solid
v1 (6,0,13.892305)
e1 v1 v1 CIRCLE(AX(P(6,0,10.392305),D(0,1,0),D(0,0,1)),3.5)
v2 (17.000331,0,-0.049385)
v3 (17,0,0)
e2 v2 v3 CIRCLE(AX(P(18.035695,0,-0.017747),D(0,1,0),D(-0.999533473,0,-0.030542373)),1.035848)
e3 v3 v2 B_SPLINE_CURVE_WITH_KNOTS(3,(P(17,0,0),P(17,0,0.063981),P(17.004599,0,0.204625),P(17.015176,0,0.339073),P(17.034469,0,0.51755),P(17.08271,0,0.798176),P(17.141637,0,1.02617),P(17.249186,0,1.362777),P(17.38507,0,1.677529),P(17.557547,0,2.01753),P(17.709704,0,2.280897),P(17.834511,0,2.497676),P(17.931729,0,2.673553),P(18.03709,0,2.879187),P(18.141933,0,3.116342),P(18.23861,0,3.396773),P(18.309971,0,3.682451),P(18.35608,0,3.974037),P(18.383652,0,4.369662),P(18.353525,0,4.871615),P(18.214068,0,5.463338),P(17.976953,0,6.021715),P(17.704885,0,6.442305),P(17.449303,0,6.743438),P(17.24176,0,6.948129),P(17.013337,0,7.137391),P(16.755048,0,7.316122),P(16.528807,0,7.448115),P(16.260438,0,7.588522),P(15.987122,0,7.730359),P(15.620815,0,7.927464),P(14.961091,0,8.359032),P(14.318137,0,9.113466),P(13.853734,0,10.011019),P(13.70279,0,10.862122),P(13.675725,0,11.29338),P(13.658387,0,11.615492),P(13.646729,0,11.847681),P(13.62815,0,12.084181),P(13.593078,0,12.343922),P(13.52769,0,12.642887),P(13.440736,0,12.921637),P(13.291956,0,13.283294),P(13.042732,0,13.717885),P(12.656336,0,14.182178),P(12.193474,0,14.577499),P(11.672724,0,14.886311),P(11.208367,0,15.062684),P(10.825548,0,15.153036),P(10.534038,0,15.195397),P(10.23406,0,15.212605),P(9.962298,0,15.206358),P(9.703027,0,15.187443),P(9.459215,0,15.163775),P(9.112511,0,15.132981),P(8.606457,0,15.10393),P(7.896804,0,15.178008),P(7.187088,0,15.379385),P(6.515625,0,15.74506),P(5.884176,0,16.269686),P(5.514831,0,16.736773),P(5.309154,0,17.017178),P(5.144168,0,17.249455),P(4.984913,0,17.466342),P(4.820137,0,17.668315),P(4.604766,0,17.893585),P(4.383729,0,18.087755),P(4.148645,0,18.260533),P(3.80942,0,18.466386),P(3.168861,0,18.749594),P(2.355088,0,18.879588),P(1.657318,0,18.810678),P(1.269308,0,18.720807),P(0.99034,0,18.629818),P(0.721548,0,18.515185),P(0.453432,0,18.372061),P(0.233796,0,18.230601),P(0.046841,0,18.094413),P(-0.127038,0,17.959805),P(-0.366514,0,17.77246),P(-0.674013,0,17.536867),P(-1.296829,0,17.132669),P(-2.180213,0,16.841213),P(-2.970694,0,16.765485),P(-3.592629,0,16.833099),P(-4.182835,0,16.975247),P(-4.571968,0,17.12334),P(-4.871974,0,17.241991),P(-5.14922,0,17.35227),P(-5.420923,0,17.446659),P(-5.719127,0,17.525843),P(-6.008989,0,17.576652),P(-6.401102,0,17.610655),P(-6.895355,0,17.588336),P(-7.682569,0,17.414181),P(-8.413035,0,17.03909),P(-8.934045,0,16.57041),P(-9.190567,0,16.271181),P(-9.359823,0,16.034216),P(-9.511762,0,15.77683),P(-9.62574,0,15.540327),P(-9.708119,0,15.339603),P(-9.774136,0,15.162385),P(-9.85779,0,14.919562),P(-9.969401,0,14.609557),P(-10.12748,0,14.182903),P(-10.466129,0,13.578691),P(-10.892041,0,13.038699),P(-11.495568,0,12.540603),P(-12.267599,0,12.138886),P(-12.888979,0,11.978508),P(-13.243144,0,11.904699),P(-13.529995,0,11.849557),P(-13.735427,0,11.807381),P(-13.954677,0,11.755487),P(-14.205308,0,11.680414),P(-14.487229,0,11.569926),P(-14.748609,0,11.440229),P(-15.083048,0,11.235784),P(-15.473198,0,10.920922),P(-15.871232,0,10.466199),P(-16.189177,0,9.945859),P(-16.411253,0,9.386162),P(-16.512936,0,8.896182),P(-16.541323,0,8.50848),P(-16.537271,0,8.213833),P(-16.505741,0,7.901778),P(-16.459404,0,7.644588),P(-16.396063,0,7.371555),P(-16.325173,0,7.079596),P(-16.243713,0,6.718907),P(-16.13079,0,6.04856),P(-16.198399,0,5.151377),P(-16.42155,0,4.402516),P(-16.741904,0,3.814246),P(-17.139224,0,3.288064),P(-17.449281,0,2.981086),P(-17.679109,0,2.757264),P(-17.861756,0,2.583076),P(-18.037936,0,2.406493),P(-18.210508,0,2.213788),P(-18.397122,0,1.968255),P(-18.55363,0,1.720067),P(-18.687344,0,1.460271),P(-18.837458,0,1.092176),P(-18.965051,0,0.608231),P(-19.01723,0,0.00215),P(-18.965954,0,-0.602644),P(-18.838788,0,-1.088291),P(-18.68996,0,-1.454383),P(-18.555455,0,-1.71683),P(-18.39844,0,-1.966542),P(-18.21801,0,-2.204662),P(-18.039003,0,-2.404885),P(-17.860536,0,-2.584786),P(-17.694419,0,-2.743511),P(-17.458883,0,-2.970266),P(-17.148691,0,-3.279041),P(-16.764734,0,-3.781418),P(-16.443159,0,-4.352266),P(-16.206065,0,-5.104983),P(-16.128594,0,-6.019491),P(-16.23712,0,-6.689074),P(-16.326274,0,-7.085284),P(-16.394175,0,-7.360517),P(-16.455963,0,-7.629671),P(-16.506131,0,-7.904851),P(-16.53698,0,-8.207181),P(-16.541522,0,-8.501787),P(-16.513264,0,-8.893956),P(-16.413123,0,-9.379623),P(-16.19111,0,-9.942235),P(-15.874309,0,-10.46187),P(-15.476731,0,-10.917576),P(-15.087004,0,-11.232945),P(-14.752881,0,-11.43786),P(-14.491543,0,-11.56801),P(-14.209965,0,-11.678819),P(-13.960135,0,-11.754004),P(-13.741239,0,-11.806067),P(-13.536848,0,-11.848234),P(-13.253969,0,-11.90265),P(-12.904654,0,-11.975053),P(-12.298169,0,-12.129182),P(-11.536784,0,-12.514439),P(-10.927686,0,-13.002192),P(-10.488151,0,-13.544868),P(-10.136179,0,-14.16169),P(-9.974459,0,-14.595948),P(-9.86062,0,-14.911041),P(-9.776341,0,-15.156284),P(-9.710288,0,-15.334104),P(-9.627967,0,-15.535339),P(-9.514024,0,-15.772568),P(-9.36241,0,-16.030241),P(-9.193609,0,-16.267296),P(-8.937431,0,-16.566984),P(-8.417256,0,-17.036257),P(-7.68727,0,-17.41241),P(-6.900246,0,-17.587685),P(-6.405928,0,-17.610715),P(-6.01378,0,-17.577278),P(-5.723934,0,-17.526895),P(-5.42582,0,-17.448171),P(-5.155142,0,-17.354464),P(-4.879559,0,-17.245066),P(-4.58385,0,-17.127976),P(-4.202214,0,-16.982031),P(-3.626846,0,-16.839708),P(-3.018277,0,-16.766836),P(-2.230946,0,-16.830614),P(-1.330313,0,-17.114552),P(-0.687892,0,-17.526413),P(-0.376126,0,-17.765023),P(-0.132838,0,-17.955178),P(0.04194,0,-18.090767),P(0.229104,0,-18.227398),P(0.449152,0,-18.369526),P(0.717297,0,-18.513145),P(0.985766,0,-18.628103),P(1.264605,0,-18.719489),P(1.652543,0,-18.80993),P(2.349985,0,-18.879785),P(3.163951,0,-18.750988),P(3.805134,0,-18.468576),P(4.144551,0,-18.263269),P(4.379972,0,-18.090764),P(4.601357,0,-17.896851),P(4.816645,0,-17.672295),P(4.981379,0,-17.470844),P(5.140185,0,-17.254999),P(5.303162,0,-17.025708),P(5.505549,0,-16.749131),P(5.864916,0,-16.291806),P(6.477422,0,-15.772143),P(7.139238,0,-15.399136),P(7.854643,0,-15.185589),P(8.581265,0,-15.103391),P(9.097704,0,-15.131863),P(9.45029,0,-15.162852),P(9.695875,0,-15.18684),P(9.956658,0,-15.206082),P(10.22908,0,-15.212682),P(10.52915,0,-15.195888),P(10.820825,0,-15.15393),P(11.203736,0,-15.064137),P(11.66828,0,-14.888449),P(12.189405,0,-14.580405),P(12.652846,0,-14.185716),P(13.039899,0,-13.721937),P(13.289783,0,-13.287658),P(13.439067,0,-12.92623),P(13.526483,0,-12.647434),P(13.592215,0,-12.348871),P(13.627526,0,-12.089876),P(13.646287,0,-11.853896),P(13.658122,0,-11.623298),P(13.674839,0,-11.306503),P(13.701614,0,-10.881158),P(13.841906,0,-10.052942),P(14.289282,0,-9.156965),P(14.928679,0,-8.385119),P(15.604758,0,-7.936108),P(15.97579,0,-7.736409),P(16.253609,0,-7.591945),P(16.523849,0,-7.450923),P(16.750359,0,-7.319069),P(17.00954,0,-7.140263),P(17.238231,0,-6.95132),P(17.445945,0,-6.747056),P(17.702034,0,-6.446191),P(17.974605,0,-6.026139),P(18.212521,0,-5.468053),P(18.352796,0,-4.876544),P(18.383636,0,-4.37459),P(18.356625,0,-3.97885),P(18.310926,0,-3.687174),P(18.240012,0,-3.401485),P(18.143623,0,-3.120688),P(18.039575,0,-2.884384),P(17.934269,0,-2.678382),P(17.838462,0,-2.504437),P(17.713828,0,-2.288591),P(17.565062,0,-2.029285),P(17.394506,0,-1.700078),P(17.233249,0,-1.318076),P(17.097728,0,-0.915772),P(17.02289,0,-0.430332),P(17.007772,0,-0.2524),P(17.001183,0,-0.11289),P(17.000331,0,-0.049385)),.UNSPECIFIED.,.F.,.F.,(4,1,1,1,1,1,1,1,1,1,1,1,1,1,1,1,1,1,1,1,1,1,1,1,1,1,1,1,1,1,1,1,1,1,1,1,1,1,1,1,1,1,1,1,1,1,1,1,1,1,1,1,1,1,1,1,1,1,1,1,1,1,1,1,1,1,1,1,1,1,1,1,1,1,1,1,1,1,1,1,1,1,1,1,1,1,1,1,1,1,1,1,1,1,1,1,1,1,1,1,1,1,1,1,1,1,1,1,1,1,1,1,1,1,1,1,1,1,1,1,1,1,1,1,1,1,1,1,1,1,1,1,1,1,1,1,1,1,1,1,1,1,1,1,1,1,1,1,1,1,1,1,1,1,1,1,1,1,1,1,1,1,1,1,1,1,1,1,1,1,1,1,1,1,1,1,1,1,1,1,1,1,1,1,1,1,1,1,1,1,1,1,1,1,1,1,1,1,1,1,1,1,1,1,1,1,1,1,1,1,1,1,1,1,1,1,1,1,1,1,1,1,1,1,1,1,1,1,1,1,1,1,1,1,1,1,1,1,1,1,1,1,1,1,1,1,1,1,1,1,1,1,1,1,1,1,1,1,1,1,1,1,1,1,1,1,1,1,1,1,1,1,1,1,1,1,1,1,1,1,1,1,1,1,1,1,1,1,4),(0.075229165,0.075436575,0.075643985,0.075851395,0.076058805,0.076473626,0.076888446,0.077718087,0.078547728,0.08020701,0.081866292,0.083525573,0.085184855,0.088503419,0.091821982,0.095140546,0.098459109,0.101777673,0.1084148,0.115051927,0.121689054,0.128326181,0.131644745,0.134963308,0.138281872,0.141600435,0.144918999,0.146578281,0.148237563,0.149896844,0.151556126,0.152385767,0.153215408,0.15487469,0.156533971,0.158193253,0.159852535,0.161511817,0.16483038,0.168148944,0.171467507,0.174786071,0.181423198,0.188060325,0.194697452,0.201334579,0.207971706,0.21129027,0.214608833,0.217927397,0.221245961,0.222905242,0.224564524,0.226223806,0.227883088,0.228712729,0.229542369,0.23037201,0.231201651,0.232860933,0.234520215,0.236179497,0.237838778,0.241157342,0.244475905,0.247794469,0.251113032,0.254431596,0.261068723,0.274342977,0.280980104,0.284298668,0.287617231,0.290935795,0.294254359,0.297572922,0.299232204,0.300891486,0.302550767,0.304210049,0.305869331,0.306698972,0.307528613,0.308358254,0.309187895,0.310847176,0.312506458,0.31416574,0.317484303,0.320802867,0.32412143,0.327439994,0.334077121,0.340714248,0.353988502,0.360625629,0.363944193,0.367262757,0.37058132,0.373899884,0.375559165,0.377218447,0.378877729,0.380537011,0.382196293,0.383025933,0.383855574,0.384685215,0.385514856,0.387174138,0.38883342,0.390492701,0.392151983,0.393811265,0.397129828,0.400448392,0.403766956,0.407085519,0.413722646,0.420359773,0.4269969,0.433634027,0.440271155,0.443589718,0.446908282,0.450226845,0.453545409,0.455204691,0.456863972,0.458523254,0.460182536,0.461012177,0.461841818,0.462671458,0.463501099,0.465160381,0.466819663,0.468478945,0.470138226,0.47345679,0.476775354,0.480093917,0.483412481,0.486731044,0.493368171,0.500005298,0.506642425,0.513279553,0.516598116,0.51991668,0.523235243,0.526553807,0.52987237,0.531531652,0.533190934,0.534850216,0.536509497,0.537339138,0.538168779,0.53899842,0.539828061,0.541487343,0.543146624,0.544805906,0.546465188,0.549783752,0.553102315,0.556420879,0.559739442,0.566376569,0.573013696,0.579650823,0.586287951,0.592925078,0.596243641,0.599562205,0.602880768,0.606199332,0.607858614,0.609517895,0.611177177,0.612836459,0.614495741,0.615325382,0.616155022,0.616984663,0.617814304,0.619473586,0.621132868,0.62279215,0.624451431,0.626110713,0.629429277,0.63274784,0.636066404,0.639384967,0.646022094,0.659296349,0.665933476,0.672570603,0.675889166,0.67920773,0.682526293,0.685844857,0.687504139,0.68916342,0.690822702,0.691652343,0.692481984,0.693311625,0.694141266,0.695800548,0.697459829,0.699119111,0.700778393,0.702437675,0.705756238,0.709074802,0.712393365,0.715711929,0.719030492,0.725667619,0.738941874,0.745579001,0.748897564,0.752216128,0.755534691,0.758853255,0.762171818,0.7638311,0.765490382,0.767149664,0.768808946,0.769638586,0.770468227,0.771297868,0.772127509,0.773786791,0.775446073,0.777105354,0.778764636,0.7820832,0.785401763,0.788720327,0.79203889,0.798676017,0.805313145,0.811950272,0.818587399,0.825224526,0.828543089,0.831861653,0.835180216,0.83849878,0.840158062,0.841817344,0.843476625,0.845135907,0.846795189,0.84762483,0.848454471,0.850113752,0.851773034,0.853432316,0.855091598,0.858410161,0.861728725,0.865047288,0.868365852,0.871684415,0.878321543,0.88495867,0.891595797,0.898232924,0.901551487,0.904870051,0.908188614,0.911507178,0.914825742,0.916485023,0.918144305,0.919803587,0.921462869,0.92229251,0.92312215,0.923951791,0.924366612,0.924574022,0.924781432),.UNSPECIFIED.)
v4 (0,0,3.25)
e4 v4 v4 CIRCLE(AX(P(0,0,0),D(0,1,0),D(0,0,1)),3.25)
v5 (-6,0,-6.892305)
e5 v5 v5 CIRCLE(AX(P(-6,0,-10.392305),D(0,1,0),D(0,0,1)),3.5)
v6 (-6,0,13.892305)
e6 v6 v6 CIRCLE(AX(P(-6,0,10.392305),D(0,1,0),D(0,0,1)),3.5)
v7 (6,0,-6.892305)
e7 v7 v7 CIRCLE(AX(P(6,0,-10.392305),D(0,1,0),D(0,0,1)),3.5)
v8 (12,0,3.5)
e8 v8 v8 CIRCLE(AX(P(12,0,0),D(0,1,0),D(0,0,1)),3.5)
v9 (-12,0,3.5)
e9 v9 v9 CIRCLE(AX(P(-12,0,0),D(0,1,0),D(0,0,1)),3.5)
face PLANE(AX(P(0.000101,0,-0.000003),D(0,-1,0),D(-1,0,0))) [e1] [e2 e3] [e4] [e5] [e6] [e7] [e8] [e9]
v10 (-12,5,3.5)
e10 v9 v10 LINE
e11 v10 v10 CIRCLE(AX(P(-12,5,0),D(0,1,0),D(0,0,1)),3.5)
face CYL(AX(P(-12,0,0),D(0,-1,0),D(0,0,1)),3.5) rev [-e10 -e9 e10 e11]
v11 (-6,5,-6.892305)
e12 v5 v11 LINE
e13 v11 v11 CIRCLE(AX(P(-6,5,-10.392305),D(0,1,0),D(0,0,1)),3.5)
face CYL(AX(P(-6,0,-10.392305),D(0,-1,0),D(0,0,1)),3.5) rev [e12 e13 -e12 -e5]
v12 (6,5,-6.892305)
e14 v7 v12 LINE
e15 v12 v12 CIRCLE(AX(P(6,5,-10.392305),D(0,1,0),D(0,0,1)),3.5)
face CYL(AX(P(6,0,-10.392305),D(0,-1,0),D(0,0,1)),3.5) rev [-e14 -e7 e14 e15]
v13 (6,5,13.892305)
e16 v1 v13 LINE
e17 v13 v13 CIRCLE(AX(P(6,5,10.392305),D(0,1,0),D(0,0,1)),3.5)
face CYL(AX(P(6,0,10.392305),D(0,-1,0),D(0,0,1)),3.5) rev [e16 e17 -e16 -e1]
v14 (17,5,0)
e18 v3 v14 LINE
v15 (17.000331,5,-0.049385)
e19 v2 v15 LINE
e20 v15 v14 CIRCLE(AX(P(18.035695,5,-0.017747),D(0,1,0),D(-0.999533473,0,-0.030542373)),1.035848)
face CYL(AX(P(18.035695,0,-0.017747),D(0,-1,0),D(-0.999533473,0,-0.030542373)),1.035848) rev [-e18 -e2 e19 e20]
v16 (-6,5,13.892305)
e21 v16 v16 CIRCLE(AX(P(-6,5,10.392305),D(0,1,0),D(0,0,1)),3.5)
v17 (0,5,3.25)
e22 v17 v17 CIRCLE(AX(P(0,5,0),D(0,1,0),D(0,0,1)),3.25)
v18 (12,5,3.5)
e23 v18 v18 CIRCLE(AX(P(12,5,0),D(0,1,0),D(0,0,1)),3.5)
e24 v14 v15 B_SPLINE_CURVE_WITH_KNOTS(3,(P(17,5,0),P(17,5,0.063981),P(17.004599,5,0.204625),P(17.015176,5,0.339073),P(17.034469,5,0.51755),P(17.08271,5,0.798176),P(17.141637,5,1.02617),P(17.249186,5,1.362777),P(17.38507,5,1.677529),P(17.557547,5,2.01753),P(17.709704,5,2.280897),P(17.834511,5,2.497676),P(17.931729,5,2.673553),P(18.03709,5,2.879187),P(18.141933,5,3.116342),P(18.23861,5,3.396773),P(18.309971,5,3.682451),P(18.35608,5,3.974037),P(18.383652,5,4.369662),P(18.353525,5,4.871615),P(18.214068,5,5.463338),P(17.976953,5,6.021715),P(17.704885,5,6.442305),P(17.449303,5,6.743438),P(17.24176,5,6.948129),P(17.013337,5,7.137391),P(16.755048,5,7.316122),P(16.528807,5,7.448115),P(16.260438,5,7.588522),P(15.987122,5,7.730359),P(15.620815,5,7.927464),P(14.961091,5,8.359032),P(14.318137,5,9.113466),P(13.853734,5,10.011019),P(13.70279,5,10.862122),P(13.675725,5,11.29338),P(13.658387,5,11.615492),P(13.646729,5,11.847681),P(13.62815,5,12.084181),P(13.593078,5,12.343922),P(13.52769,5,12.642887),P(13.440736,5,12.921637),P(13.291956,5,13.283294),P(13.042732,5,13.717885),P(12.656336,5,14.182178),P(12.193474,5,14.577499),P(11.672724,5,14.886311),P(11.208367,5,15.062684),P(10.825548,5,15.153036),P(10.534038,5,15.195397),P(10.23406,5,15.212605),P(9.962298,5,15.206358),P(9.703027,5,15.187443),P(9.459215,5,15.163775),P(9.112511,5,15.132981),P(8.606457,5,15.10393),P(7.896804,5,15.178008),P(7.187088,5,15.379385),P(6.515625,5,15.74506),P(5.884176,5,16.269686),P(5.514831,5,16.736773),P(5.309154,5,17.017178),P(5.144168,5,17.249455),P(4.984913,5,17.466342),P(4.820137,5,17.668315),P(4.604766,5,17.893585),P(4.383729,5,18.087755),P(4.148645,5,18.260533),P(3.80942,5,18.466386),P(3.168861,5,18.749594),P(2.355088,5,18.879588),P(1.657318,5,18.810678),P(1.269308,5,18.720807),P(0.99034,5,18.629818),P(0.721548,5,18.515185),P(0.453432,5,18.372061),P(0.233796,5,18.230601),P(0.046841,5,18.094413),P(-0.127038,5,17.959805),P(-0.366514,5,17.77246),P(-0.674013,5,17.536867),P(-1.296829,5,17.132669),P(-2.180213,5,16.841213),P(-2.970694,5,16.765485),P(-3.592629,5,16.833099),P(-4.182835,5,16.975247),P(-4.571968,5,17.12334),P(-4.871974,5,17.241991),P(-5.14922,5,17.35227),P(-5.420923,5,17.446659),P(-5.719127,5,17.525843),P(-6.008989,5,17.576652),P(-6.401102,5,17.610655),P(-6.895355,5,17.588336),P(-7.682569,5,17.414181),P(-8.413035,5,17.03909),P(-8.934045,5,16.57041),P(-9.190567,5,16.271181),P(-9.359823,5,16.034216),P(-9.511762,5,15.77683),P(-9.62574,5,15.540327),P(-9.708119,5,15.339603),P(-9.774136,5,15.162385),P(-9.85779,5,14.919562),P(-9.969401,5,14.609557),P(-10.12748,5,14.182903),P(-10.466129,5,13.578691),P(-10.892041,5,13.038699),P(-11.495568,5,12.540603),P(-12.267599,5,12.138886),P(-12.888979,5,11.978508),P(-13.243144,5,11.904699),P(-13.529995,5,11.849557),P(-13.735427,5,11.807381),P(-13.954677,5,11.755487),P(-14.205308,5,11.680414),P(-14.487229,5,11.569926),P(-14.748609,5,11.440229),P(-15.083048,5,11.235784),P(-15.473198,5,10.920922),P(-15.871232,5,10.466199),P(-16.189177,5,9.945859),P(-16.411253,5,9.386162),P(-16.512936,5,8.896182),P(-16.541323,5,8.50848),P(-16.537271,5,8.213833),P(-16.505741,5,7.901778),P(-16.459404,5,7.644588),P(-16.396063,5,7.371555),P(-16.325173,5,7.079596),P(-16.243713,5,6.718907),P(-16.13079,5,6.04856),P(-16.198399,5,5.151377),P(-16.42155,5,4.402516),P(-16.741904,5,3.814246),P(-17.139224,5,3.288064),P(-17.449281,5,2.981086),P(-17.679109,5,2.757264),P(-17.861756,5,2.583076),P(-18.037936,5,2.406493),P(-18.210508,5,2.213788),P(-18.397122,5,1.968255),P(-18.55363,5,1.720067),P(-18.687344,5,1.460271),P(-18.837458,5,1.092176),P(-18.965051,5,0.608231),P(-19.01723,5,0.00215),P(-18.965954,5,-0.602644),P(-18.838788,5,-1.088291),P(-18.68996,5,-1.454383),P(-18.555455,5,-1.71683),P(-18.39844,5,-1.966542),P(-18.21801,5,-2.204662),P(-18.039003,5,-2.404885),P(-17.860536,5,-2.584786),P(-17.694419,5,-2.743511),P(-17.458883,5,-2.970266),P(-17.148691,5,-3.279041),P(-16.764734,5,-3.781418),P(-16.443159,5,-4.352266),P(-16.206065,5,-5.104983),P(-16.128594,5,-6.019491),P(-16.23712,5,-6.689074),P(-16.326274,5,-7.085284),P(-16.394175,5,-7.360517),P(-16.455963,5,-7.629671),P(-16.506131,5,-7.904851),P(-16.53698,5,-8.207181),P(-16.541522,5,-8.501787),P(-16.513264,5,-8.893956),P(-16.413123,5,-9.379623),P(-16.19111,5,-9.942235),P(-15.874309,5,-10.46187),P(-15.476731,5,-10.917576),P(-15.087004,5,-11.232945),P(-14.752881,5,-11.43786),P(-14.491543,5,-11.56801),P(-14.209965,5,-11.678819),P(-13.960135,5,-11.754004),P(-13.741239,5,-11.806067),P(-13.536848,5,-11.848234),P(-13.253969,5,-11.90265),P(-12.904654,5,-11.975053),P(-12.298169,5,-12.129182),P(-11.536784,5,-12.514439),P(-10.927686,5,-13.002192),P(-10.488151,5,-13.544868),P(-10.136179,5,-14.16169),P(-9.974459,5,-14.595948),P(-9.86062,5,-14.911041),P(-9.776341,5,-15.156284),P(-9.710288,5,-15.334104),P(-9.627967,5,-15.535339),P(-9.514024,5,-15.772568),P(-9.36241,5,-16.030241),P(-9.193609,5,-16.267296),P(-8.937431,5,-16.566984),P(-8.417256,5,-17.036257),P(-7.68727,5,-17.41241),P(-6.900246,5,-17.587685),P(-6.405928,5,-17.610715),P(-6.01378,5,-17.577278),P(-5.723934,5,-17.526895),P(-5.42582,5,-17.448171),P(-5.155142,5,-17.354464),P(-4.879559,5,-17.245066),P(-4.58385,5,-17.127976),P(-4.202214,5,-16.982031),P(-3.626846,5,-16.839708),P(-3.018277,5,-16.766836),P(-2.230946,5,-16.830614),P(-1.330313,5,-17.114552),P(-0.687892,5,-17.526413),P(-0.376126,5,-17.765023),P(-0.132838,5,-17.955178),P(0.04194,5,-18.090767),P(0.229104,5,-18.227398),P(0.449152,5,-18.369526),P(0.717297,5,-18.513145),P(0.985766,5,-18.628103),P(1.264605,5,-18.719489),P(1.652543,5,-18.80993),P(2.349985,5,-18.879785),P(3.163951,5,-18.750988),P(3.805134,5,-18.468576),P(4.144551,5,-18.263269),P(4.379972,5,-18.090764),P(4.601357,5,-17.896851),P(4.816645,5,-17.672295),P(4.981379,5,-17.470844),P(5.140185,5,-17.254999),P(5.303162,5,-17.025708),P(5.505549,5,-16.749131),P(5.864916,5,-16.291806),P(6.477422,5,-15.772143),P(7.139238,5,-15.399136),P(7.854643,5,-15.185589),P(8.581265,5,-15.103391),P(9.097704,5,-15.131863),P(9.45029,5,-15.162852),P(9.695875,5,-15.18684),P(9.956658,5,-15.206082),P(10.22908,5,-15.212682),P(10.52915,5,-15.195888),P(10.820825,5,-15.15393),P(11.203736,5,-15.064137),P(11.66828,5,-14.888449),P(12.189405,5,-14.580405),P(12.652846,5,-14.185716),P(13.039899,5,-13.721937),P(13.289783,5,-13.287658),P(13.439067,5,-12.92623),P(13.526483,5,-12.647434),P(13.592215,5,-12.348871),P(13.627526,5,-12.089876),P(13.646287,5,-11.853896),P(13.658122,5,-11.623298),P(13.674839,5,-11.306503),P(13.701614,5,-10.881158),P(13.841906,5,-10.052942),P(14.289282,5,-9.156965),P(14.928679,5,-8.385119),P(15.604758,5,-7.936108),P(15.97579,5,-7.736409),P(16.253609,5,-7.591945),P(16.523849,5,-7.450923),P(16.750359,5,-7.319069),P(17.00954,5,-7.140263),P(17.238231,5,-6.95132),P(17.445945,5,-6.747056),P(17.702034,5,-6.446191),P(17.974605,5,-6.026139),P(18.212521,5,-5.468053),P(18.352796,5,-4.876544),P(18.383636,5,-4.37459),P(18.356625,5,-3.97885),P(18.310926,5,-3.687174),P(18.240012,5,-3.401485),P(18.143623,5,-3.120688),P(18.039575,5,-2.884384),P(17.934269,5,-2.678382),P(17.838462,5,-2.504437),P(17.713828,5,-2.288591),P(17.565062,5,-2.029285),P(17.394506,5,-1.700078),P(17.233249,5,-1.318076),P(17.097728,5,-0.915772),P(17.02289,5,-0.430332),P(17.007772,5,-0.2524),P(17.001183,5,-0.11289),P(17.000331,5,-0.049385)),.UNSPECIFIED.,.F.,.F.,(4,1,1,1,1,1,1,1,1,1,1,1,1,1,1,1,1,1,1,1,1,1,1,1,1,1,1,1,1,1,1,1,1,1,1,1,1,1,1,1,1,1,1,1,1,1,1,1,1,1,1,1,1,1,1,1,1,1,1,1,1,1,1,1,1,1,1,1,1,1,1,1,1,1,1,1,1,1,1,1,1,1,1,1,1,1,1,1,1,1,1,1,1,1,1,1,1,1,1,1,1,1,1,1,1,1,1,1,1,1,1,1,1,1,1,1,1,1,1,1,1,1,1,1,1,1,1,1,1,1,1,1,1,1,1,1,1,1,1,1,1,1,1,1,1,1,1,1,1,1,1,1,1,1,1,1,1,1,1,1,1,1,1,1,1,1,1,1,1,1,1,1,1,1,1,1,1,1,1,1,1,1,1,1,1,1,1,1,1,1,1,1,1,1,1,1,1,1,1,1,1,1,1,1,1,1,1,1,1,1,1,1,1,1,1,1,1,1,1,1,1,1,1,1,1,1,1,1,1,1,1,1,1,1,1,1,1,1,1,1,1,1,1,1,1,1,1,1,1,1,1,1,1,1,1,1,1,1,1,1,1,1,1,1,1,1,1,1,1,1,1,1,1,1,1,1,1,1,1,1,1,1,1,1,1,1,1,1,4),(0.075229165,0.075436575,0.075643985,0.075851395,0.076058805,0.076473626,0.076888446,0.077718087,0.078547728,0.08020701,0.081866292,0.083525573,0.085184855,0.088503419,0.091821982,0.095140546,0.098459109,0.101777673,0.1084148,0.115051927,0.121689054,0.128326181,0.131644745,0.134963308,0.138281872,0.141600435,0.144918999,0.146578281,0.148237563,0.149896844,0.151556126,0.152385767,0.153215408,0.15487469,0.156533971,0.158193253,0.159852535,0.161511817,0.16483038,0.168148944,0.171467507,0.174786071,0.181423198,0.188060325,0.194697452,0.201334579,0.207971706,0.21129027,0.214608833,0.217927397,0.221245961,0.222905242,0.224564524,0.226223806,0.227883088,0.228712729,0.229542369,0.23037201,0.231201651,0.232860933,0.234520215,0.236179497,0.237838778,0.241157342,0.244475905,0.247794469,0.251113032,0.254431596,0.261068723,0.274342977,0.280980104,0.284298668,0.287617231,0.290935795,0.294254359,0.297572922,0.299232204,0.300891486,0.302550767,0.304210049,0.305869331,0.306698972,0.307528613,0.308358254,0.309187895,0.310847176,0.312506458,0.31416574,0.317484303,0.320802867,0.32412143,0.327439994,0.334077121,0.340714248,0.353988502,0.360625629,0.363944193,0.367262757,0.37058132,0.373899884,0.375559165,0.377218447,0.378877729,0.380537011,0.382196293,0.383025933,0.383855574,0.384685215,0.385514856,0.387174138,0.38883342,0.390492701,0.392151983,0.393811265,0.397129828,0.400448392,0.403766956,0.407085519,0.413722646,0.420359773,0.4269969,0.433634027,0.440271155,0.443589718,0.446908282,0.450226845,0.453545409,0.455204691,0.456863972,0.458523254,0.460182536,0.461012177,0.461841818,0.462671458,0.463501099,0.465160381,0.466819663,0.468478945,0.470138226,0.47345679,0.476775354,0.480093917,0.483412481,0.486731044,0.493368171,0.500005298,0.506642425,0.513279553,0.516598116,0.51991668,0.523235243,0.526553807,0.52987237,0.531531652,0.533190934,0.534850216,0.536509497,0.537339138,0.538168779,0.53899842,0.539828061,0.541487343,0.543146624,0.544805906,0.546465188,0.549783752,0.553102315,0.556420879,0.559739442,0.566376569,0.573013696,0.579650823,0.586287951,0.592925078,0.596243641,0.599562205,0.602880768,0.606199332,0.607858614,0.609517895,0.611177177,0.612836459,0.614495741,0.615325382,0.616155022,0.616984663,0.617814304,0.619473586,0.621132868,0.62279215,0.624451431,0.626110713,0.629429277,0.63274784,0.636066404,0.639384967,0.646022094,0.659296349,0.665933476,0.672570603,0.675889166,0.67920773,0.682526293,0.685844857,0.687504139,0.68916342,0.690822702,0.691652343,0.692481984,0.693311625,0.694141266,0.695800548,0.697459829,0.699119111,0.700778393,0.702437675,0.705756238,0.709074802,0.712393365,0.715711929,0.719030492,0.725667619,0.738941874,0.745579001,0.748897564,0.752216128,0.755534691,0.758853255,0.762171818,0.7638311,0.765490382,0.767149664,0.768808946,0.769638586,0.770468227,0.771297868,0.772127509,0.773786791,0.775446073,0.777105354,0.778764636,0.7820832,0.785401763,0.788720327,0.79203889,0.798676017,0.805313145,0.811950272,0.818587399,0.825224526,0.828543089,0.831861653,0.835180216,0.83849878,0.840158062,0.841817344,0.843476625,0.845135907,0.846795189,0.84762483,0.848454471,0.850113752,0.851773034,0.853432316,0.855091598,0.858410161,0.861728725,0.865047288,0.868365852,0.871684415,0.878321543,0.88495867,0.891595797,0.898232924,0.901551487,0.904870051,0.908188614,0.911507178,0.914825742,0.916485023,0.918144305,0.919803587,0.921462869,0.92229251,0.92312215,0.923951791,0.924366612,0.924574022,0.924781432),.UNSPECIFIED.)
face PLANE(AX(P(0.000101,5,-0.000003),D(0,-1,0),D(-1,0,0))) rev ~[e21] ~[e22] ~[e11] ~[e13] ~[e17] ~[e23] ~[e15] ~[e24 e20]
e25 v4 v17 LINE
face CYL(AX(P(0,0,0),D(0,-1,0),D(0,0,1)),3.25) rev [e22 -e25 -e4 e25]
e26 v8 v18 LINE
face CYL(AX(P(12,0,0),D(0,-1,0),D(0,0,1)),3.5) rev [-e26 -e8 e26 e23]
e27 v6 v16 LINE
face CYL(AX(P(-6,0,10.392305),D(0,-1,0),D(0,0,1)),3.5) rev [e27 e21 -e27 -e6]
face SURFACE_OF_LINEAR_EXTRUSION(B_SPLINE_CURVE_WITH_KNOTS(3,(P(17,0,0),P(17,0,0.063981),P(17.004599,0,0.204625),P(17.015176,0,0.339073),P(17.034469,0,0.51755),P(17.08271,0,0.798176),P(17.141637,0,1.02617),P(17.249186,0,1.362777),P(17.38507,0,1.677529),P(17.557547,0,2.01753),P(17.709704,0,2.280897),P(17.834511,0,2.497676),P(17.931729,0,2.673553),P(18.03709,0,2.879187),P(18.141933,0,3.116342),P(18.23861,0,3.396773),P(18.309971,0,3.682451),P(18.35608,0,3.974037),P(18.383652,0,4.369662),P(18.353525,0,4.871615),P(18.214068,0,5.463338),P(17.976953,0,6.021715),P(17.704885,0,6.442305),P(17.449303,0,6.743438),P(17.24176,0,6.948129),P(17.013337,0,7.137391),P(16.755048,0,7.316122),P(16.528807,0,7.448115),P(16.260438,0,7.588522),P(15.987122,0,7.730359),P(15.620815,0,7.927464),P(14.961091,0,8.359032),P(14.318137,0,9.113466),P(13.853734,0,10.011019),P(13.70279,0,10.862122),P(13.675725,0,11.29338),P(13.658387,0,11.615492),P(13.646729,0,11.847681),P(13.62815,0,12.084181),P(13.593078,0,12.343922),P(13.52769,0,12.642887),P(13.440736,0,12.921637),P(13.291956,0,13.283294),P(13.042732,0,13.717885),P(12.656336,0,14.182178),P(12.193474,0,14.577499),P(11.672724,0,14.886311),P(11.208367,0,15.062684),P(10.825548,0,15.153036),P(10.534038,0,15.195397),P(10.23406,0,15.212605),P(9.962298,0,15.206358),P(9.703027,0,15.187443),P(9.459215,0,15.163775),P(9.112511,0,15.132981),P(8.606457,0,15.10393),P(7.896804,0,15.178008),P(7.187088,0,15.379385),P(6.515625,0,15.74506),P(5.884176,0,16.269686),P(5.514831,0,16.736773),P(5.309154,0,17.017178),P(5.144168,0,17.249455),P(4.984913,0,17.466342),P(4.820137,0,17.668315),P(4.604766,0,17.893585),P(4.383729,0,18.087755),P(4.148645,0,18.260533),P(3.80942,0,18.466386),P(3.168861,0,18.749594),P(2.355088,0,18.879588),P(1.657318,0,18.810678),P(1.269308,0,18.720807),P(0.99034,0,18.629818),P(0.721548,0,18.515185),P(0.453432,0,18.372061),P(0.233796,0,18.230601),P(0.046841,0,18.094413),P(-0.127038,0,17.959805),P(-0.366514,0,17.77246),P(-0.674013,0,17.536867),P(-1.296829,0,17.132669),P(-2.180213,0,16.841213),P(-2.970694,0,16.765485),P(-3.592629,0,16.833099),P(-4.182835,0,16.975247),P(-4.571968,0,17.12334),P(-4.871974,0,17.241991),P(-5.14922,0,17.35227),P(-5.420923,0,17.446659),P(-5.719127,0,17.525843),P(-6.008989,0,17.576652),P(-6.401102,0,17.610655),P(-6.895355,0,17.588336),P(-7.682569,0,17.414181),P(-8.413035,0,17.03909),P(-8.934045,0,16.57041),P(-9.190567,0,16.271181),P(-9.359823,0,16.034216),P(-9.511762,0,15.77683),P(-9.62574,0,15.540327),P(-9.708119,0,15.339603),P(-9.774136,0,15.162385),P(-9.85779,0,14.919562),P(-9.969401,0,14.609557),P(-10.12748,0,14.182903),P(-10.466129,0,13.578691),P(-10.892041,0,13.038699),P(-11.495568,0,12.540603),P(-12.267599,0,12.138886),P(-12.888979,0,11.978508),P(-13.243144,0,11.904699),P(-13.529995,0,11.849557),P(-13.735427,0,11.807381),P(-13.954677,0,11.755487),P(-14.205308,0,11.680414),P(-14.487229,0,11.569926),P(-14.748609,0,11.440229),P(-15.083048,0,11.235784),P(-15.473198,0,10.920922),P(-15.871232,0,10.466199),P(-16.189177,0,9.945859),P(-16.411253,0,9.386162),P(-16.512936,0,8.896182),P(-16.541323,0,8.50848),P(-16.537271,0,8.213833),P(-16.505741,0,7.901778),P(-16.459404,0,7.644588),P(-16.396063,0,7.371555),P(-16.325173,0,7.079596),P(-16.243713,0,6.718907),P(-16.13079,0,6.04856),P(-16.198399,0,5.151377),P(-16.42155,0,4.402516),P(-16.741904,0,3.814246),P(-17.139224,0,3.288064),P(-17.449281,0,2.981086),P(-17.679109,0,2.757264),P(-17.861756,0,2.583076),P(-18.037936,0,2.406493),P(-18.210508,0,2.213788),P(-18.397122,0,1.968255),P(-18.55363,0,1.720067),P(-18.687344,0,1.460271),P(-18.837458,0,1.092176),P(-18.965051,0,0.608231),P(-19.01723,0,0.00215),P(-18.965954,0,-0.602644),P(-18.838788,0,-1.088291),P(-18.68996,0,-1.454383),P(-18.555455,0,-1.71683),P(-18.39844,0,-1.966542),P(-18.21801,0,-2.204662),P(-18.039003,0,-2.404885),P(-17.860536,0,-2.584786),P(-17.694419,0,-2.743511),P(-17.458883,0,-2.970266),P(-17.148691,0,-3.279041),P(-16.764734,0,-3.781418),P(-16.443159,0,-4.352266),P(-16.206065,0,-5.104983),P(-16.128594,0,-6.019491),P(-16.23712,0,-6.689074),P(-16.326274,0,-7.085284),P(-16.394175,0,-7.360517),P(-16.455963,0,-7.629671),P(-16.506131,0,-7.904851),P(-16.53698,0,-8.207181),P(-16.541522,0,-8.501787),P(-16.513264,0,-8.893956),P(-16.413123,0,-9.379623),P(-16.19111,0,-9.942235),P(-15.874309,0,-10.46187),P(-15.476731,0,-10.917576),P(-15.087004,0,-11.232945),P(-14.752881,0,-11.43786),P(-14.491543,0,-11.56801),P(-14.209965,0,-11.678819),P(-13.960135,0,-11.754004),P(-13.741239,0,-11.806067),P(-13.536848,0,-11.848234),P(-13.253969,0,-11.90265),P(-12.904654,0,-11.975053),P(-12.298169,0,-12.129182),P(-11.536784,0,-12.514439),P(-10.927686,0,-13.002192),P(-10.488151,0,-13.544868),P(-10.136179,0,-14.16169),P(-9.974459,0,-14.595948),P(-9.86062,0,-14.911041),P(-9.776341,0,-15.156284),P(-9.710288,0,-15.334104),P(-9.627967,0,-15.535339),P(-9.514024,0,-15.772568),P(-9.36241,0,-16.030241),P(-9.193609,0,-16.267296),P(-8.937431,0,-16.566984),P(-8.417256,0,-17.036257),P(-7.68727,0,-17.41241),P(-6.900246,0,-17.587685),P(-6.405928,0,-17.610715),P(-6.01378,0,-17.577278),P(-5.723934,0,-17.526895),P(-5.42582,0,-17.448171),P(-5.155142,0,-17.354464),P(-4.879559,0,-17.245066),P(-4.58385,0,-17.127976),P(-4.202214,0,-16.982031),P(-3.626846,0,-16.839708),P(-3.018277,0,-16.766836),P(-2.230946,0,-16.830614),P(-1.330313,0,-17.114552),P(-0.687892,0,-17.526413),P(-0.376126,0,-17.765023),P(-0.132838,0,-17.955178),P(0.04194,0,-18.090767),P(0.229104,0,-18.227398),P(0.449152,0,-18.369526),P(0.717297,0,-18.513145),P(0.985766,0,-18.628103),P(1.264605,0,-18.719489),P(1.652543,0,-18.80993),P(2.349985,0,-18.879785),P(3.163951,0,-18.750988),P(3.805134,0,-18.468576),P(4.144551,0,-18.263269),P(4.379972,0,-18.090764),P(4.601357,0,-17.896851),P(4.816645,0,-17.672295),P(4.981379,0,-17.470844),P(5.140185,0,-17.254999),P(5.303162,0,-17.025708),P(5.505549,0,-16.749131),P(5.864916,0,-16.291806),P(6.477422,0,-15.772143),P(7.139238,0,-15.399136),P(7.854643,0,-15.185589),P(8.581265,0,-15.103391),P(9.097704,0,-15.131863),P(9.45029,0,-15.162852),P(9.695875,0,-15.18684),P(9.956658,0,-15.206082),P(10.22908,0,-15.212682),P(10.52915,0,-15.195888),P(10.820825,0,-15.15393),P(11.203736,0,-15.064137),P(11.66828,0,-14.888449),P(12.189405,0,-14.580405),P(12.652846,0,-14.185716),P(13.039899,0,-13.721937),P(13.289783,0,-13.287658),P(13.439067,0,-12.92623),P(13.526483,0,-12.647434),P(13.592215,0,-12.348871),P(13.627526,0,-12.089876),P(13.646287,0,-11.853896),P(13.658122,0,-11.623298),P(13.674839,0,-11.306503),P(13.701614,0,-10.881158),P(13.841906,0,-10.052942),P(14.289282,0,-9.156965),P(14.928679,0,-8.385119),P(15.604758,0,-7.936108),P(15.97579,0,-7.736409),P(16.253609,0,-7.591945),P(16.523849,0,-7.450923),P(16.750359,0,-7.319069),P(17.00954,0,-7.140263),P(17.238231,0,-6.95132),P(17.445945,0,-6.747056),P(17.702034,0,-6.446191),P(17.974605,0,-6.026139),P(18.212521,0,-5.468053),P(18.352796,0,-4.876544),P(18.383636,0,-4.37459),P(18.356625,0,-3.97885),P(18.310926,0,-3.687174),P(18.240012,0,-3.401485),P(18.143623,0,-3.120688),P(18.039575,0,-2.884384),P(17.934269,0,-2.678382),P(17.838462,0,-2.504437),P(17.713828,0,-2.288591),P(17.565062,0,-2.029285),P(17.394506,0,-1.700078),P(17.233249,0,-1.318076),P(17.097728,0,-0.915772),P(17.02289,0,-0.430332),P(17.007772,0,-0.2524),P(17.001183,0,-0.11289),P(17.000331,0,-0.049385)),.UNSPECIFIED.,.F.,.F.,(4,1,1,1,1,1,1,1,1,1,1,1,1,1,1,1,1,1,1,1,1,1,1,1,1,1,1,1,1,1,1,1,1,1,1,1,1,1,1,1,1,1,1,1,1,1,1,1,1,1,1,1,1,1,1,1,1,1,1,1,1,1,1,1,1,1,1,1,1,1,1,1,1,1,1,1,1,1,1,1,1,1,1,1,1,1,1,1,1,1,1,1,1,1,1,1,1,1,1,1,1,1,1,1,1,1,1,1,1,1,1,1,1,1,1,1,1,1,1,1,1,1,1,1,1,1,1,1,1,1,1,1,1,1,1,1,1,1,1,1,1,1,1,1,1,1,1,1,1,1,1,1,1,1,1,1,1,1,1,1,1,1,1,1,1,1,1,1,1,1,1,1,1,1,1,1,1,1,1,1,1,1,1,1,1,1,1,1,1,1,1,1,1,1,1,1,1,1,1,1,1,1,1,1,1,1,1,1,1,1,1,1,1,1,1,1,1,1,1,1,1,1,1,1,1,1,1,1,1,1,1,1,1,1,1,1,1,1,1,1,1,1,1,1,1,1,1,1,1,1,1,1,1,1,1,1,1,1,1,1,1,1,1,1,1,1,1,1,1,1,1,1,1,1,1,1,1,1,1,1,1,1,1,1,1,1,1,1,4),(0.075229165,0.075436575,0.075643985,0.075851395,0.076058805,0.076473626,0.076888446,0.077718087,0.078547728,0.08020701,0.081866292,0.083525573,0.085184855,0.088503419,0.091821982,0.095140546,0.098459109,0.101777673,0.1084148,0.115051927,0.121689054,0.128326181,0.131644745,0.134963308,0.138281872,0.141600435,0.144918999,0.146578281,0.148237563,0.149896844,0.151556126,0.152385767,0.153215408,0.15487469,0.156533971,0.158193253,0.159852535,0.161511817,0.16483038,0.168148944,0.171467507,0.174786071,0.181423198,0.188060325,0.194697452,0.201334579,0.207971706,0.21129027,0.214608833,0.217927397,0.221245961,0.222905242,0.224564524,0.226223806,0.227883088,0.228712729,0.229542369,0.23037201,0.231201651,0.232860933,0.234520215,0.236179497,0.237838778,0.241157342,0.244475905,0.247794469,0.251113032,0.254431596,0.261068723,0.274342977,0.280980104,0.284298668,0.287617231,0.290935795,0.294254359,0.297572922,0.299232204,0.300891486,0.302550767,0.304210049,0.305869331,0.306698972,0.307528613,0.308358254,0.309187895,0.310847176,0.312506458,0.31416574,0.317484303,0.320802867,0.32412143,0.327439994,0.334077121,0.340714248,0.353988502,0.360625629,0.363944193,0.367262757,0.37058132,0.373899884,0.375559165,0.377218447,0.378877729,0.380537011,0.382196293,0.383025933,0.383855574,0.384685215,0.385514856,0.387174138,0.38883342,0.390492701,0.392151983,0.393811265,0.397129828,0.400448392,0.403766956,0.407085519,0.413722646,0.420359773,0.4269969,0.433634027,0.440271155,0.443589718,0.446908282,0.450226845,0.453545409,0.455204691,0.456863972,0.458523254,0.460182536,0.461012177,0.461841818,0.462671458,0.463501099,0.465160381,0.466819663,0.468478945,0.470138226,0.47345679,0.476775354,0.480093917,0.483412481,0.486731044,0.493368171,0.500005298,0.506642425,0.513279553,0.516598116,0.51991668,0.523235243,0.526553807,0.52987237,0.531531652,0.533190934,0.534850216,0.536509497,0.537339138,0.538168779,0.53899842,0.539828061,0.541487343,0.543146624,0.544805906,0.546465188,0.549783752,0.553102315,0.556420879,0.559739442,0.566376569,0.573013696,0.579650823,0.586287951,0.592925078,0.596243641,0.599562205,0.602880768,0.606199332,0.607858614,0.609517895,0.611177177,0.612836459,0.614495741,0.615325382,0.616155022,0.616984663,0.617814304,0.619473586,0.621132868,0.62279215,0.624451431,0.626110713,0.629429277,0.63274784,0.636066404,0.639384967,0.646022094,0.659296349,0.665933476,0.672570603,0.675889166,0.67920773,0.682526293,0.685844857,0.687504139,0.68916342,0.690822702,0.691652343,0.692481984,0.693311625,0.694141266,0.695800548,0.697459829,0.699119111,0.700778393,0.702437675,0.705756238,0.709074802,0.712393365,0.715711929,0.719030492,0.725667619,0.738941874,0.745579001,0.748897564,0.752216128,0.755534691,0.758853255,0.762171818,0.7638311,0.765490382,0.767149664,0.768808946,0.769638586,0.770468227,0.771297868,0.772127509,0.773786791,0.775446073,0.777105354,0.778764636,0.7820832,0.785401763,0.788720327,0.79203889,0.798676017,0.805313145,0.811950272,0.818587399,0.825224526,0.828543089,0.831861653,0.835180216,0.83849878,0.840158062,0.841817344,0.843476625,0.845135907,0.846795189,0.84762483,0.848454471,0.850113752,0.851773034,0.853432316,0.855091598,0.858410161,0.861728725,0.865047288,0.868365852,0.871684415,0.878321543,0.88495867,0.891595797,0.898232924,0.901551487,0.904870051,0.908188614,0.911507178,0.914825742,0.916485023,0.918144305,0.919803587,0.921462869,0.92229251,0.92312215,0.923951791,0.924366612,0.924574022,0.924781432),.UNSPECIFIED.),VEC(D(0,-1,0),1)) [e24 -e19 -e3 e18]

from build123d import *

# Parameters (mm, degrees)
SKETCH3_R           = 3.25
SKETCH3_R_2         = 3.5
BOSS_EXTRUDE1_DEPTH = 5


with BuildPart() as part:
    # Sketch3 → Boss-Extrude1 (new body)
    with BuildSketch(Plane(origin=(0, 0, 0), x_dir=(1, 0, 0), z_dir=(0, 1, 0))):
        with BuildLine():
            ThreePointArc((17.000331205, 0.049384627), (16.999871249, 0.024694288), (17, 0))
            add(Edge.make_bspline(
                [(17, 0), (17, -0.063980976), (17.004599157, -0.204625278), (17.015175753, -0.339072956), (17.034468661, -0.517549728), (17.082710297, -0.798176406), (17.14163717, -1.026170187), (17.249186109, -1.362776959), (17.385070257, -1.677528771), (17.557546583, -2.017529884), (17.709704046, -2.280896601), (17.834511069, -2.497676441), (17.931729359, -2.67355344), (18.037090453, -2.8791866), (18.141932715, -3.116342109), (18.23860986, -3.396773013), (18.309970841, -3.682451052), (18.356079786, -3.974037135), (18.383652231, -4.369662286), (18.353524976, -4.871614667), (18.214067888, -5.463338232), (17.976952899, -6.021715044), (17.704885197, -6.442304513), (17.449302851, -6.743438357), (17.241760191, -6.948129103), (17.013337034, -7.137391458), (16.755047841, -7.3161223), (16.528806718, -7.448115095), (16.260437907, -7.588521865), (15.987122289, -7.730358813), (15.620815447, -7.927464497), (14.961090709, -8.359032423), (14.318137012, -9.113466191), (13.853734336, -10.011019198), (13.702790405, -10.862121935), (13.675724522, -11.293380445), (13.658387328, -11.615491699), (13.646728868, -11.84768127), (13.62814998, -12.084181007), (13.593077603, -12.343921901), (13.527690389, -12.642887265), (13.440735743, -12.921637005), (13.291955629, -13.283293921), (13.042732424, -13.717885018), (12.656336163, -14.182178108), (12.193473804, -14.577498943), (11.67272442, -14.886310846), (11.208367414, -15.062684105), (10.825548494, -15.153035666), (10.534038143, -15.195397243), (10.234060319, -15.212605093), (9.962297796, -15.206357693), (9.703026727, -15.187443196), (9.459214988, -15.163774612), (9.112510905, -15.132980653), (8.606456553, -15.103929783), (7.896804139, -15.17800753), (7.187088173, -15.379384555), (6.515624757, -15.745060466), (5.884176141, -16.269685841), (5.514831132, -16.736772986), (5.309154407, -17.017178436), (5.144167898, -17.249454735), (4.98491294, -17.466342307), (4.8201365, -17.668315025), (4.604766175, -17.893584997), (4.38372904, -18.087754678), (4.148644503, -18.260532581), (3.809419632, -18.46638647), (3.168861392, -18.749593696), (2.355088123, -18.879587943), (1.657317896, -18.810677808), (1.269308281, -18.720806685), (0.990339982, -18.629817651), (0.721547569, -18.51518476), (0.453431586, -18.372060838), (0.233796039, -18.230600661), (0.046840838, -18.09441333), (-0.127037523, -17.959805477), (-0.3665143, -17.772459546), (-0.674012673, -17.536867346), (-1.296828581, -17.132668872), (-2.180213349, -16.841213105), (-2.970693982, -16.765484644), (-3.592629341, -16.833099047), (-4.182834595, -16.975247018), (-4.571968276, -17.123340296), (-4.871974324, -17.241990958), (-5.149219731, -17.352270073), (-5.420922747, -17.446659463), (-5.719126701, -17.525843056), (-6.008988765, -17.576651745), (-6.401102413, -17.610655), (-6.895355056, -17.588335648), (-7.682569484, -17.414180703), (-8.413034882, -17.039090443), (-8.934044945, -16.570409848), (-9.190566677, -16.271181015), (-9.35982283, -16.034215545), (-9.511761819, -15.776829862), (-9.625740251, -15.540326805), (-9.708119461, -15.339602974), (-9.774135927, -15.162384635), (-9.857790309, -14.919561755), (-9.969401131, -14.609557499), (-10.127479978, -14.182903318), (-10.46612936, -13.578690651), (-10.892041261, -13.038698538), (-11.495567901, -12.540602766), (-12.267599223, -12.138885763), (-12.888979023, -11.978508441), (-13.243144044, -11.904698882), (-13.529995454, -11.849556953), (-13.73542707, -11.807381367), (-13.95467702, -11.7554871), (-14.20530845, -11.680414181), (-14.4872286, -11.5699263), (-14.748609067, -11.440228856), (-15.083048113, -11.235784068), (-15.473198266, -10.92092238), (-15.871232461, -10.466198652), (-16.189176564, -9.945859494), (-16.411253395, -9.386161611), (-16.512936186, -8.896182211), (-16.541323163, -8.508479672), (-16.537271257, -8.213833147), (-16.505740678, -7.901778268), (-16.459404271, -7.644588412), (-16.396063416, -7.371554654), (-16.325173266, -7.079596014), (-16.243713059, -6.718907167), (-16.130790021, -6.048559667), (-16.19839901, -5.151376689), (-16.42155025, -4.402516007), (-16.741904091, -3.814245759), (-17.139223568, -3.288063883), (-17.449281337, -2.981085804), (-17.67910912, -2.757264275), (-17.861756426, -2.583076195), (-18.037936396, -2.406492902), (-18.210507552, -2.213787669), (-18.397122447, -1.968255435), (-18.553630301, -1.720067112), (-18.687343677, -1.460271059), (-18.837457833, -1.09217641), (-18.96505093, -0.608231327), (-19.01723043, -0.002150035), (-18.965954327, 0.602643935), (-18.838788147, 1.088290982), (-18.689960312, 1.454382914), (-18.555455457, 1.716829542), (-18.398439638, 1.966541652), (-18.218010374, 2.204662205), (-18.039003031, 2.40488475), (-17.860535535, 2.584786209), (-17.694418957, 2.743510593), (-17.458882784, 2.970266216), (-17.148691381, 3.279040815), (-16.764733943, 3.781417627), (-16.443158558, 4.35226629), (-16.206064607, 5.104982831), (-16.128594199, 6.019490948), (-16.237119961, 6.68907356), (-16.326273943, 7.085284296), (-16.394175465, 7.360517071), (-16.455962974, 7.629671163), (-16.506131162, 7.904850827), (-16.536979669, 8.207181054), (-16.541522189, 8.501787261), (-16.513263984, 8.893955741), (-16.413122679, 9.379622849), (-16.191110015, 9.942234791), (-15.87430905, 10.461870355), (-15.47673116, 10.917576423), (-15.087004092, 11.232944745), (-14.752880703, 11.43786006), (-14.491543127, 11.568010085), (-14.209964651, 11.678819346), (-13.960135327, 11.754004335), (-13.741239144, 11.806066962), (-13.536847738, 11.848234016), (-13.253969075, 11.902650276), (-12.904653773, 11.975053466), (-12.298169442, 12.129182232), (-11.536783868, 12.514438908), (-10.92768577, 13.002191842), (-10.488150854, 13.544867959), (-10.136179285, 14.161690228), (-9.974458862, 14.595948394), (-9.860619855, 14.911040607), (-9.776341269, 15.156283531), (-9.710288372, 15.334103828), (-9.627967463, 15.535338566), (-9.514024479, 15.772568428), (-9.36241011, 16.030241352), (-9.193608517, 16.26729586), (-8.937431476, 16.566983681), (-8.417256478, 17.036256576), (-7.687270389, 17.412410186), (-6.90024635, 17.587685486), (-6.40592829, 17.610714574), (-6.013779704, 17.577277528), (-5.72393363, 17.526894979), (-5.425819981, 17.448171025), (-5.155142204, 17.3544643), (-4.879559422, 17.245065549), (-4.583849569, 17.127975717), (-4.202214266, 16.98203062), (-3.626846218, 16.83970772), (-3.018276913, 16.766835619), (-2.23094569, 16.830614469), (-1.330312933, 17.114551549), (-0.687892199, 17.526413275), (-0.376125678, 17.765023418), (-0.132837866, 17.95517807), (0.041939566, 18.090767404), (0.22910368, 18.227397921), (0.449152164, 18.369525858), (0.717296561, 18.513145418), (0.985765802, 18.628102806), (1.264604646, 18.71948861), (1.652543046, 18.809929594), (2.349985059, 18.879785057), (3.163950773, 18.750987989), (3.805134335, 18.468576075), (4.14455119, 18.263269042), (4.379972192, 18.090764425), (4.601356502, 17.896850957), (4.816645008, 17.672295405), (4.981379007, 17.470844123), (5.140184935, 17.25499892), (5.303161874, 17.025708485), (5.505548935, 16.749131069), (5.864915994, 16.291805546), (6.477421857, 15.772142928), (7.13923761, 15.399135534), (7.854642898, 15.185588927), (8.581265466, 15.103391298), (9.09770355, 15.131863231), (9.450290006, 15.162852345), (9.695875247, 15.186839645), (9.956658075, 15.206081645), (10.229080039, 15.212682228), (10.529150182, 15.195887656), (10.820825104, 15.15392991), (11.203735672, 15.064137429), (11.668280377, 14.888448879), (12.189405056, 14.580405151), (12.652845814, 14.185715675), (13.039898897, 13.721937022), (13.289783336, 13.287657978), (13.439066957, 12.926230432), (13.526482967, 12.647433611), (13.592215459, 12.348870755), (13.62752642, 12.089875802), (13.646286552, 11.853895672), (13.658121981, 11.62329842), (13.674839393, 11.306502951), (13.701613778, 10.881158074), (13.841905899, 10.052941799), (14.289281811, 9.156964689), (14.928679416, 8.385119009), (15.604757987, 7.936108371), (15.975790475, 7.736409498), (16.253609206, 7.591945285), (16.523849353, 7.450923383), (16.750359146, 7.319069374), (17.009540293, 7.140262502), (17.238230911, 6.951319854), (17.445944677, 6.747056344), (17.70203393, 6.446190782), (17.974604868, 6.026139148), (18.212520738, 5.468053329), (18.352795854, 4.876543927), (18.383636405, 4.374590461), (18.356624519, 3.978849962), (18.310925638, 3.687174149), (18.240012485, 3.40148454), (18.143623371, 3.12068777), (18.039574764, 2.884384249), (17.934269227, 2.678381878), (17.838461613, 2.504437175), (17.713828446, 2.288591447), (17.565061974, 2.029284832), (17.394505828, 1.700078364), (17.233249316, 1.318076267), (17.097727539, 0.915771834), (17.022890025, 0.430331868), (17.007772004, 0.252399556), (17.001183045, 0.112890291), (17.000331205, 0.049384627)],
                knots=[0.075229165, 0.075229165, 0.075229165, 0.075229165, 0.075436575, 0.075643985, 0.075851395, 0.076058805, 0.076473626, 0.076888446, 0.077718087, 0.078547728, 0.08020701, 0.081866292, 0.083525573, 0.085184855, 0.088503419, 0.091821982, 0.095140546, 0.098459109, 0.101777673, 0.1084148, 0.115051927, 0.121689054, 0.128326181, 0.131644745, 0.134963308, 0.138281872, 0.141600435, 0.144918999, 0.146578281, 0.148237563, 0.149896844, 0.151556126, 0.152385767, 0.153215408, 0.15487469, 0.156533971, 0.158193253, 0.159852535, 0.161511817, 0.16483038, 0.168148944, 0.171467507, 0.174786071, 0.181423198, 0.188060325, 0.194697452, 0.201334579, 0.207971706, 0.21129027, 0.214608833, 0.217927397, 0.221245961, 0.222905242, 0.224564524, 0.226223806, 0.227883088, 0.228712729, 0.229542369, 0.23037201, 0.231201651, 0.232860933, 0.234520215, 0.236179497, 0.237838778, 0.241157342, 0.244475905, 0.247794469, 0.251113032, 0.254431596, 0.261068723, 0.274342977, 0.280980104, 0.284298668, 0.287617231, 0.290935795, 0.294254359, 0.297572922, 0.299232204, 0.300891486, 0.302550767, 0.304210049, 0.305869331, 0.306698972, 0.307528613, 0.308358254, 0.309187895, 0.310847176, 0.312506458, 0.31416574, 0.317484303, 0.320802867, 0.32412143, 0.327439994, 0.334077121, 0.340714248, 0.353988502, 0.360625629, 0.363944193, 0.367262757, 0.37058132, 0.373899884, 0.375559165, 0.377218447, 0.378877729, 0.380537011, 0.382196293, 0.383025933, 0.383855574, 0.384685215, 0.385514856, 0.387174138, 0.38883342, 0.390492701, 0.392151983, 0.393811265, 0.397129828, 0.400448392, 0.403766956, 0.407085519, 0.413722646, 0.420359773, 0.4269969, 0.433634027, 0.440271155, 0.443589718, 0.446908282, 0.450226845, 0.453545409, 0.455204691, 0.456863972, 0.458523254, 0.460182536, 0.461012177, 0.461841818, 0.462671458, 0.463501099, 0.465160381, 0.466819663, 0.468478945, 0.470138226, 0.47345679, 0.476775354, 0.480093917, 0.483412481, 0.486731044, 0.493368171, 0.500005298, 0.506642425, 0.513279553, 0.516598116, 0.51991668, 0.523235243, 0.526553807, 0.52987237, 0.531531652, 0.533190934, 0.534850216, 0.536509497, 0.537339138, 0.538168779, 0.53899842, 0.539828061, 0.541487343, 0.543146624, 0.544805906, 0.546465188, 0.549783752, 0.553102315, 0.556420879, 0.559739442, 0.566376569, 0.573013696, 0.579650823, 0.586287951, 0.592925078, 0.596243641, 0.599562205, 0.602880768, 0.606199332, 0.607858614, 0.609517895, 0.611177177, 0.612836459, 0.614495741, 0.615325382, 0.616155022, 0.616984663, 0.617814304, 0.619473586, 0.621132868, 0.62279215, 0.624451431, 0.626110713, 0.629429277, 0.63274784, 0.636066404, 0.639384967, 0.646022094, 0.659296349, 0.665933476, 0.672570603, 0.675889166, 0.67920773, 0.682526293, 0.685844857, 0.687504139, 0.68916342, 0.690822702, 0.691652343, 0.692481984, 0.693311625, 0.694141266, 0.695800548, 0.697459829, 0.699119111, 0.700778393, 0.702437675, 0.705756238, 0.709074802, 0.712393365, 0.715711929, 0.719030492, 0.725667619, 0.738941874, 0.745579001, 0.748897564, 0.752216128, 0.755534691, 0.758853255, 0.762171818, 0.7638311, 0.765490382, 0.767149664, 0.768808946, 0.769638586, 0.770468227, 0.771297868, 0.772127509, 0.773786791, 0.775446073, 0.777105354, 0.778764636, 0.7820832, 0.785401763, 0.788720327, 0.79203889, 0.798676017, 0.805313145, 0.811950272, 0.818587399, 0.825224526, 0.828543089, 0.831861653, 0.835180216, 0.83849878, 0.840158062, 0.841817344, 0.843476625, 0.845135907, 0.846795189, 0.84762483, 0.848454471, 0.850113752, 0.851773034, 0.853432316, 0.855091598, 0.858410161, 0.861728725, 0.865047288, 0.868365852, 0.871684415, 0.878321543, 0.88495867, 0.891595797, 0.898232924, 0.901551487, 0.904870051, 0.908188614, 0.911507178, 0.914825742, 0.916485023, 0.918144305, 0.919803587, 0.921462869, 0.92229251, 0.92312215, 0.923951791, 0.924366612, 0.924574022, 0.924781432, 0.924781432, 0.924781432, 0.924781432], degree=3))
        make_face()
        with Locations(Location((0, 0, 0), (0, 0, 270))):
            Circle(SKETCH3_R, mode=Mode.SUBTRACT)
        with Locations(Location((12, 0, 0), (0, 0, 270))):
            Circle(SKETCH3_R_2, mode=Mode.SUBTRACT)
        with Locations(Location((6, -10.392304845, 0), (0, 0, 270))):
            Circle(SKETCH3_R_2, mode=Mode.SUBTRACT)
        with Locations(Location((-6, -10.392304845, 0), (0, 0, 270))):
            Circle(SKETCH3_R_2, mode=Mode.SUBTRACT)
        with Locations(Location((-12, 0, 0), (0, 0, 270))):
            Circle(SKETCH3_R_2, mode=Mode.SUBTRACT)
        with Locations(Location((-6, 10.392304845, 0), (0, 0, 270))):
            Circle(SKETCH3_R_2, mode=Mode.SUBTRACT)
        with Locations(Location((6, 10.392304845, 0), (0, 0, 270))):
            Circle(SKETCH3_R_2, mode=Mode.SUBTRACT)
    extrude(amount=BOSS_EXTRUDE1_DEPTH)


solid = part.part
